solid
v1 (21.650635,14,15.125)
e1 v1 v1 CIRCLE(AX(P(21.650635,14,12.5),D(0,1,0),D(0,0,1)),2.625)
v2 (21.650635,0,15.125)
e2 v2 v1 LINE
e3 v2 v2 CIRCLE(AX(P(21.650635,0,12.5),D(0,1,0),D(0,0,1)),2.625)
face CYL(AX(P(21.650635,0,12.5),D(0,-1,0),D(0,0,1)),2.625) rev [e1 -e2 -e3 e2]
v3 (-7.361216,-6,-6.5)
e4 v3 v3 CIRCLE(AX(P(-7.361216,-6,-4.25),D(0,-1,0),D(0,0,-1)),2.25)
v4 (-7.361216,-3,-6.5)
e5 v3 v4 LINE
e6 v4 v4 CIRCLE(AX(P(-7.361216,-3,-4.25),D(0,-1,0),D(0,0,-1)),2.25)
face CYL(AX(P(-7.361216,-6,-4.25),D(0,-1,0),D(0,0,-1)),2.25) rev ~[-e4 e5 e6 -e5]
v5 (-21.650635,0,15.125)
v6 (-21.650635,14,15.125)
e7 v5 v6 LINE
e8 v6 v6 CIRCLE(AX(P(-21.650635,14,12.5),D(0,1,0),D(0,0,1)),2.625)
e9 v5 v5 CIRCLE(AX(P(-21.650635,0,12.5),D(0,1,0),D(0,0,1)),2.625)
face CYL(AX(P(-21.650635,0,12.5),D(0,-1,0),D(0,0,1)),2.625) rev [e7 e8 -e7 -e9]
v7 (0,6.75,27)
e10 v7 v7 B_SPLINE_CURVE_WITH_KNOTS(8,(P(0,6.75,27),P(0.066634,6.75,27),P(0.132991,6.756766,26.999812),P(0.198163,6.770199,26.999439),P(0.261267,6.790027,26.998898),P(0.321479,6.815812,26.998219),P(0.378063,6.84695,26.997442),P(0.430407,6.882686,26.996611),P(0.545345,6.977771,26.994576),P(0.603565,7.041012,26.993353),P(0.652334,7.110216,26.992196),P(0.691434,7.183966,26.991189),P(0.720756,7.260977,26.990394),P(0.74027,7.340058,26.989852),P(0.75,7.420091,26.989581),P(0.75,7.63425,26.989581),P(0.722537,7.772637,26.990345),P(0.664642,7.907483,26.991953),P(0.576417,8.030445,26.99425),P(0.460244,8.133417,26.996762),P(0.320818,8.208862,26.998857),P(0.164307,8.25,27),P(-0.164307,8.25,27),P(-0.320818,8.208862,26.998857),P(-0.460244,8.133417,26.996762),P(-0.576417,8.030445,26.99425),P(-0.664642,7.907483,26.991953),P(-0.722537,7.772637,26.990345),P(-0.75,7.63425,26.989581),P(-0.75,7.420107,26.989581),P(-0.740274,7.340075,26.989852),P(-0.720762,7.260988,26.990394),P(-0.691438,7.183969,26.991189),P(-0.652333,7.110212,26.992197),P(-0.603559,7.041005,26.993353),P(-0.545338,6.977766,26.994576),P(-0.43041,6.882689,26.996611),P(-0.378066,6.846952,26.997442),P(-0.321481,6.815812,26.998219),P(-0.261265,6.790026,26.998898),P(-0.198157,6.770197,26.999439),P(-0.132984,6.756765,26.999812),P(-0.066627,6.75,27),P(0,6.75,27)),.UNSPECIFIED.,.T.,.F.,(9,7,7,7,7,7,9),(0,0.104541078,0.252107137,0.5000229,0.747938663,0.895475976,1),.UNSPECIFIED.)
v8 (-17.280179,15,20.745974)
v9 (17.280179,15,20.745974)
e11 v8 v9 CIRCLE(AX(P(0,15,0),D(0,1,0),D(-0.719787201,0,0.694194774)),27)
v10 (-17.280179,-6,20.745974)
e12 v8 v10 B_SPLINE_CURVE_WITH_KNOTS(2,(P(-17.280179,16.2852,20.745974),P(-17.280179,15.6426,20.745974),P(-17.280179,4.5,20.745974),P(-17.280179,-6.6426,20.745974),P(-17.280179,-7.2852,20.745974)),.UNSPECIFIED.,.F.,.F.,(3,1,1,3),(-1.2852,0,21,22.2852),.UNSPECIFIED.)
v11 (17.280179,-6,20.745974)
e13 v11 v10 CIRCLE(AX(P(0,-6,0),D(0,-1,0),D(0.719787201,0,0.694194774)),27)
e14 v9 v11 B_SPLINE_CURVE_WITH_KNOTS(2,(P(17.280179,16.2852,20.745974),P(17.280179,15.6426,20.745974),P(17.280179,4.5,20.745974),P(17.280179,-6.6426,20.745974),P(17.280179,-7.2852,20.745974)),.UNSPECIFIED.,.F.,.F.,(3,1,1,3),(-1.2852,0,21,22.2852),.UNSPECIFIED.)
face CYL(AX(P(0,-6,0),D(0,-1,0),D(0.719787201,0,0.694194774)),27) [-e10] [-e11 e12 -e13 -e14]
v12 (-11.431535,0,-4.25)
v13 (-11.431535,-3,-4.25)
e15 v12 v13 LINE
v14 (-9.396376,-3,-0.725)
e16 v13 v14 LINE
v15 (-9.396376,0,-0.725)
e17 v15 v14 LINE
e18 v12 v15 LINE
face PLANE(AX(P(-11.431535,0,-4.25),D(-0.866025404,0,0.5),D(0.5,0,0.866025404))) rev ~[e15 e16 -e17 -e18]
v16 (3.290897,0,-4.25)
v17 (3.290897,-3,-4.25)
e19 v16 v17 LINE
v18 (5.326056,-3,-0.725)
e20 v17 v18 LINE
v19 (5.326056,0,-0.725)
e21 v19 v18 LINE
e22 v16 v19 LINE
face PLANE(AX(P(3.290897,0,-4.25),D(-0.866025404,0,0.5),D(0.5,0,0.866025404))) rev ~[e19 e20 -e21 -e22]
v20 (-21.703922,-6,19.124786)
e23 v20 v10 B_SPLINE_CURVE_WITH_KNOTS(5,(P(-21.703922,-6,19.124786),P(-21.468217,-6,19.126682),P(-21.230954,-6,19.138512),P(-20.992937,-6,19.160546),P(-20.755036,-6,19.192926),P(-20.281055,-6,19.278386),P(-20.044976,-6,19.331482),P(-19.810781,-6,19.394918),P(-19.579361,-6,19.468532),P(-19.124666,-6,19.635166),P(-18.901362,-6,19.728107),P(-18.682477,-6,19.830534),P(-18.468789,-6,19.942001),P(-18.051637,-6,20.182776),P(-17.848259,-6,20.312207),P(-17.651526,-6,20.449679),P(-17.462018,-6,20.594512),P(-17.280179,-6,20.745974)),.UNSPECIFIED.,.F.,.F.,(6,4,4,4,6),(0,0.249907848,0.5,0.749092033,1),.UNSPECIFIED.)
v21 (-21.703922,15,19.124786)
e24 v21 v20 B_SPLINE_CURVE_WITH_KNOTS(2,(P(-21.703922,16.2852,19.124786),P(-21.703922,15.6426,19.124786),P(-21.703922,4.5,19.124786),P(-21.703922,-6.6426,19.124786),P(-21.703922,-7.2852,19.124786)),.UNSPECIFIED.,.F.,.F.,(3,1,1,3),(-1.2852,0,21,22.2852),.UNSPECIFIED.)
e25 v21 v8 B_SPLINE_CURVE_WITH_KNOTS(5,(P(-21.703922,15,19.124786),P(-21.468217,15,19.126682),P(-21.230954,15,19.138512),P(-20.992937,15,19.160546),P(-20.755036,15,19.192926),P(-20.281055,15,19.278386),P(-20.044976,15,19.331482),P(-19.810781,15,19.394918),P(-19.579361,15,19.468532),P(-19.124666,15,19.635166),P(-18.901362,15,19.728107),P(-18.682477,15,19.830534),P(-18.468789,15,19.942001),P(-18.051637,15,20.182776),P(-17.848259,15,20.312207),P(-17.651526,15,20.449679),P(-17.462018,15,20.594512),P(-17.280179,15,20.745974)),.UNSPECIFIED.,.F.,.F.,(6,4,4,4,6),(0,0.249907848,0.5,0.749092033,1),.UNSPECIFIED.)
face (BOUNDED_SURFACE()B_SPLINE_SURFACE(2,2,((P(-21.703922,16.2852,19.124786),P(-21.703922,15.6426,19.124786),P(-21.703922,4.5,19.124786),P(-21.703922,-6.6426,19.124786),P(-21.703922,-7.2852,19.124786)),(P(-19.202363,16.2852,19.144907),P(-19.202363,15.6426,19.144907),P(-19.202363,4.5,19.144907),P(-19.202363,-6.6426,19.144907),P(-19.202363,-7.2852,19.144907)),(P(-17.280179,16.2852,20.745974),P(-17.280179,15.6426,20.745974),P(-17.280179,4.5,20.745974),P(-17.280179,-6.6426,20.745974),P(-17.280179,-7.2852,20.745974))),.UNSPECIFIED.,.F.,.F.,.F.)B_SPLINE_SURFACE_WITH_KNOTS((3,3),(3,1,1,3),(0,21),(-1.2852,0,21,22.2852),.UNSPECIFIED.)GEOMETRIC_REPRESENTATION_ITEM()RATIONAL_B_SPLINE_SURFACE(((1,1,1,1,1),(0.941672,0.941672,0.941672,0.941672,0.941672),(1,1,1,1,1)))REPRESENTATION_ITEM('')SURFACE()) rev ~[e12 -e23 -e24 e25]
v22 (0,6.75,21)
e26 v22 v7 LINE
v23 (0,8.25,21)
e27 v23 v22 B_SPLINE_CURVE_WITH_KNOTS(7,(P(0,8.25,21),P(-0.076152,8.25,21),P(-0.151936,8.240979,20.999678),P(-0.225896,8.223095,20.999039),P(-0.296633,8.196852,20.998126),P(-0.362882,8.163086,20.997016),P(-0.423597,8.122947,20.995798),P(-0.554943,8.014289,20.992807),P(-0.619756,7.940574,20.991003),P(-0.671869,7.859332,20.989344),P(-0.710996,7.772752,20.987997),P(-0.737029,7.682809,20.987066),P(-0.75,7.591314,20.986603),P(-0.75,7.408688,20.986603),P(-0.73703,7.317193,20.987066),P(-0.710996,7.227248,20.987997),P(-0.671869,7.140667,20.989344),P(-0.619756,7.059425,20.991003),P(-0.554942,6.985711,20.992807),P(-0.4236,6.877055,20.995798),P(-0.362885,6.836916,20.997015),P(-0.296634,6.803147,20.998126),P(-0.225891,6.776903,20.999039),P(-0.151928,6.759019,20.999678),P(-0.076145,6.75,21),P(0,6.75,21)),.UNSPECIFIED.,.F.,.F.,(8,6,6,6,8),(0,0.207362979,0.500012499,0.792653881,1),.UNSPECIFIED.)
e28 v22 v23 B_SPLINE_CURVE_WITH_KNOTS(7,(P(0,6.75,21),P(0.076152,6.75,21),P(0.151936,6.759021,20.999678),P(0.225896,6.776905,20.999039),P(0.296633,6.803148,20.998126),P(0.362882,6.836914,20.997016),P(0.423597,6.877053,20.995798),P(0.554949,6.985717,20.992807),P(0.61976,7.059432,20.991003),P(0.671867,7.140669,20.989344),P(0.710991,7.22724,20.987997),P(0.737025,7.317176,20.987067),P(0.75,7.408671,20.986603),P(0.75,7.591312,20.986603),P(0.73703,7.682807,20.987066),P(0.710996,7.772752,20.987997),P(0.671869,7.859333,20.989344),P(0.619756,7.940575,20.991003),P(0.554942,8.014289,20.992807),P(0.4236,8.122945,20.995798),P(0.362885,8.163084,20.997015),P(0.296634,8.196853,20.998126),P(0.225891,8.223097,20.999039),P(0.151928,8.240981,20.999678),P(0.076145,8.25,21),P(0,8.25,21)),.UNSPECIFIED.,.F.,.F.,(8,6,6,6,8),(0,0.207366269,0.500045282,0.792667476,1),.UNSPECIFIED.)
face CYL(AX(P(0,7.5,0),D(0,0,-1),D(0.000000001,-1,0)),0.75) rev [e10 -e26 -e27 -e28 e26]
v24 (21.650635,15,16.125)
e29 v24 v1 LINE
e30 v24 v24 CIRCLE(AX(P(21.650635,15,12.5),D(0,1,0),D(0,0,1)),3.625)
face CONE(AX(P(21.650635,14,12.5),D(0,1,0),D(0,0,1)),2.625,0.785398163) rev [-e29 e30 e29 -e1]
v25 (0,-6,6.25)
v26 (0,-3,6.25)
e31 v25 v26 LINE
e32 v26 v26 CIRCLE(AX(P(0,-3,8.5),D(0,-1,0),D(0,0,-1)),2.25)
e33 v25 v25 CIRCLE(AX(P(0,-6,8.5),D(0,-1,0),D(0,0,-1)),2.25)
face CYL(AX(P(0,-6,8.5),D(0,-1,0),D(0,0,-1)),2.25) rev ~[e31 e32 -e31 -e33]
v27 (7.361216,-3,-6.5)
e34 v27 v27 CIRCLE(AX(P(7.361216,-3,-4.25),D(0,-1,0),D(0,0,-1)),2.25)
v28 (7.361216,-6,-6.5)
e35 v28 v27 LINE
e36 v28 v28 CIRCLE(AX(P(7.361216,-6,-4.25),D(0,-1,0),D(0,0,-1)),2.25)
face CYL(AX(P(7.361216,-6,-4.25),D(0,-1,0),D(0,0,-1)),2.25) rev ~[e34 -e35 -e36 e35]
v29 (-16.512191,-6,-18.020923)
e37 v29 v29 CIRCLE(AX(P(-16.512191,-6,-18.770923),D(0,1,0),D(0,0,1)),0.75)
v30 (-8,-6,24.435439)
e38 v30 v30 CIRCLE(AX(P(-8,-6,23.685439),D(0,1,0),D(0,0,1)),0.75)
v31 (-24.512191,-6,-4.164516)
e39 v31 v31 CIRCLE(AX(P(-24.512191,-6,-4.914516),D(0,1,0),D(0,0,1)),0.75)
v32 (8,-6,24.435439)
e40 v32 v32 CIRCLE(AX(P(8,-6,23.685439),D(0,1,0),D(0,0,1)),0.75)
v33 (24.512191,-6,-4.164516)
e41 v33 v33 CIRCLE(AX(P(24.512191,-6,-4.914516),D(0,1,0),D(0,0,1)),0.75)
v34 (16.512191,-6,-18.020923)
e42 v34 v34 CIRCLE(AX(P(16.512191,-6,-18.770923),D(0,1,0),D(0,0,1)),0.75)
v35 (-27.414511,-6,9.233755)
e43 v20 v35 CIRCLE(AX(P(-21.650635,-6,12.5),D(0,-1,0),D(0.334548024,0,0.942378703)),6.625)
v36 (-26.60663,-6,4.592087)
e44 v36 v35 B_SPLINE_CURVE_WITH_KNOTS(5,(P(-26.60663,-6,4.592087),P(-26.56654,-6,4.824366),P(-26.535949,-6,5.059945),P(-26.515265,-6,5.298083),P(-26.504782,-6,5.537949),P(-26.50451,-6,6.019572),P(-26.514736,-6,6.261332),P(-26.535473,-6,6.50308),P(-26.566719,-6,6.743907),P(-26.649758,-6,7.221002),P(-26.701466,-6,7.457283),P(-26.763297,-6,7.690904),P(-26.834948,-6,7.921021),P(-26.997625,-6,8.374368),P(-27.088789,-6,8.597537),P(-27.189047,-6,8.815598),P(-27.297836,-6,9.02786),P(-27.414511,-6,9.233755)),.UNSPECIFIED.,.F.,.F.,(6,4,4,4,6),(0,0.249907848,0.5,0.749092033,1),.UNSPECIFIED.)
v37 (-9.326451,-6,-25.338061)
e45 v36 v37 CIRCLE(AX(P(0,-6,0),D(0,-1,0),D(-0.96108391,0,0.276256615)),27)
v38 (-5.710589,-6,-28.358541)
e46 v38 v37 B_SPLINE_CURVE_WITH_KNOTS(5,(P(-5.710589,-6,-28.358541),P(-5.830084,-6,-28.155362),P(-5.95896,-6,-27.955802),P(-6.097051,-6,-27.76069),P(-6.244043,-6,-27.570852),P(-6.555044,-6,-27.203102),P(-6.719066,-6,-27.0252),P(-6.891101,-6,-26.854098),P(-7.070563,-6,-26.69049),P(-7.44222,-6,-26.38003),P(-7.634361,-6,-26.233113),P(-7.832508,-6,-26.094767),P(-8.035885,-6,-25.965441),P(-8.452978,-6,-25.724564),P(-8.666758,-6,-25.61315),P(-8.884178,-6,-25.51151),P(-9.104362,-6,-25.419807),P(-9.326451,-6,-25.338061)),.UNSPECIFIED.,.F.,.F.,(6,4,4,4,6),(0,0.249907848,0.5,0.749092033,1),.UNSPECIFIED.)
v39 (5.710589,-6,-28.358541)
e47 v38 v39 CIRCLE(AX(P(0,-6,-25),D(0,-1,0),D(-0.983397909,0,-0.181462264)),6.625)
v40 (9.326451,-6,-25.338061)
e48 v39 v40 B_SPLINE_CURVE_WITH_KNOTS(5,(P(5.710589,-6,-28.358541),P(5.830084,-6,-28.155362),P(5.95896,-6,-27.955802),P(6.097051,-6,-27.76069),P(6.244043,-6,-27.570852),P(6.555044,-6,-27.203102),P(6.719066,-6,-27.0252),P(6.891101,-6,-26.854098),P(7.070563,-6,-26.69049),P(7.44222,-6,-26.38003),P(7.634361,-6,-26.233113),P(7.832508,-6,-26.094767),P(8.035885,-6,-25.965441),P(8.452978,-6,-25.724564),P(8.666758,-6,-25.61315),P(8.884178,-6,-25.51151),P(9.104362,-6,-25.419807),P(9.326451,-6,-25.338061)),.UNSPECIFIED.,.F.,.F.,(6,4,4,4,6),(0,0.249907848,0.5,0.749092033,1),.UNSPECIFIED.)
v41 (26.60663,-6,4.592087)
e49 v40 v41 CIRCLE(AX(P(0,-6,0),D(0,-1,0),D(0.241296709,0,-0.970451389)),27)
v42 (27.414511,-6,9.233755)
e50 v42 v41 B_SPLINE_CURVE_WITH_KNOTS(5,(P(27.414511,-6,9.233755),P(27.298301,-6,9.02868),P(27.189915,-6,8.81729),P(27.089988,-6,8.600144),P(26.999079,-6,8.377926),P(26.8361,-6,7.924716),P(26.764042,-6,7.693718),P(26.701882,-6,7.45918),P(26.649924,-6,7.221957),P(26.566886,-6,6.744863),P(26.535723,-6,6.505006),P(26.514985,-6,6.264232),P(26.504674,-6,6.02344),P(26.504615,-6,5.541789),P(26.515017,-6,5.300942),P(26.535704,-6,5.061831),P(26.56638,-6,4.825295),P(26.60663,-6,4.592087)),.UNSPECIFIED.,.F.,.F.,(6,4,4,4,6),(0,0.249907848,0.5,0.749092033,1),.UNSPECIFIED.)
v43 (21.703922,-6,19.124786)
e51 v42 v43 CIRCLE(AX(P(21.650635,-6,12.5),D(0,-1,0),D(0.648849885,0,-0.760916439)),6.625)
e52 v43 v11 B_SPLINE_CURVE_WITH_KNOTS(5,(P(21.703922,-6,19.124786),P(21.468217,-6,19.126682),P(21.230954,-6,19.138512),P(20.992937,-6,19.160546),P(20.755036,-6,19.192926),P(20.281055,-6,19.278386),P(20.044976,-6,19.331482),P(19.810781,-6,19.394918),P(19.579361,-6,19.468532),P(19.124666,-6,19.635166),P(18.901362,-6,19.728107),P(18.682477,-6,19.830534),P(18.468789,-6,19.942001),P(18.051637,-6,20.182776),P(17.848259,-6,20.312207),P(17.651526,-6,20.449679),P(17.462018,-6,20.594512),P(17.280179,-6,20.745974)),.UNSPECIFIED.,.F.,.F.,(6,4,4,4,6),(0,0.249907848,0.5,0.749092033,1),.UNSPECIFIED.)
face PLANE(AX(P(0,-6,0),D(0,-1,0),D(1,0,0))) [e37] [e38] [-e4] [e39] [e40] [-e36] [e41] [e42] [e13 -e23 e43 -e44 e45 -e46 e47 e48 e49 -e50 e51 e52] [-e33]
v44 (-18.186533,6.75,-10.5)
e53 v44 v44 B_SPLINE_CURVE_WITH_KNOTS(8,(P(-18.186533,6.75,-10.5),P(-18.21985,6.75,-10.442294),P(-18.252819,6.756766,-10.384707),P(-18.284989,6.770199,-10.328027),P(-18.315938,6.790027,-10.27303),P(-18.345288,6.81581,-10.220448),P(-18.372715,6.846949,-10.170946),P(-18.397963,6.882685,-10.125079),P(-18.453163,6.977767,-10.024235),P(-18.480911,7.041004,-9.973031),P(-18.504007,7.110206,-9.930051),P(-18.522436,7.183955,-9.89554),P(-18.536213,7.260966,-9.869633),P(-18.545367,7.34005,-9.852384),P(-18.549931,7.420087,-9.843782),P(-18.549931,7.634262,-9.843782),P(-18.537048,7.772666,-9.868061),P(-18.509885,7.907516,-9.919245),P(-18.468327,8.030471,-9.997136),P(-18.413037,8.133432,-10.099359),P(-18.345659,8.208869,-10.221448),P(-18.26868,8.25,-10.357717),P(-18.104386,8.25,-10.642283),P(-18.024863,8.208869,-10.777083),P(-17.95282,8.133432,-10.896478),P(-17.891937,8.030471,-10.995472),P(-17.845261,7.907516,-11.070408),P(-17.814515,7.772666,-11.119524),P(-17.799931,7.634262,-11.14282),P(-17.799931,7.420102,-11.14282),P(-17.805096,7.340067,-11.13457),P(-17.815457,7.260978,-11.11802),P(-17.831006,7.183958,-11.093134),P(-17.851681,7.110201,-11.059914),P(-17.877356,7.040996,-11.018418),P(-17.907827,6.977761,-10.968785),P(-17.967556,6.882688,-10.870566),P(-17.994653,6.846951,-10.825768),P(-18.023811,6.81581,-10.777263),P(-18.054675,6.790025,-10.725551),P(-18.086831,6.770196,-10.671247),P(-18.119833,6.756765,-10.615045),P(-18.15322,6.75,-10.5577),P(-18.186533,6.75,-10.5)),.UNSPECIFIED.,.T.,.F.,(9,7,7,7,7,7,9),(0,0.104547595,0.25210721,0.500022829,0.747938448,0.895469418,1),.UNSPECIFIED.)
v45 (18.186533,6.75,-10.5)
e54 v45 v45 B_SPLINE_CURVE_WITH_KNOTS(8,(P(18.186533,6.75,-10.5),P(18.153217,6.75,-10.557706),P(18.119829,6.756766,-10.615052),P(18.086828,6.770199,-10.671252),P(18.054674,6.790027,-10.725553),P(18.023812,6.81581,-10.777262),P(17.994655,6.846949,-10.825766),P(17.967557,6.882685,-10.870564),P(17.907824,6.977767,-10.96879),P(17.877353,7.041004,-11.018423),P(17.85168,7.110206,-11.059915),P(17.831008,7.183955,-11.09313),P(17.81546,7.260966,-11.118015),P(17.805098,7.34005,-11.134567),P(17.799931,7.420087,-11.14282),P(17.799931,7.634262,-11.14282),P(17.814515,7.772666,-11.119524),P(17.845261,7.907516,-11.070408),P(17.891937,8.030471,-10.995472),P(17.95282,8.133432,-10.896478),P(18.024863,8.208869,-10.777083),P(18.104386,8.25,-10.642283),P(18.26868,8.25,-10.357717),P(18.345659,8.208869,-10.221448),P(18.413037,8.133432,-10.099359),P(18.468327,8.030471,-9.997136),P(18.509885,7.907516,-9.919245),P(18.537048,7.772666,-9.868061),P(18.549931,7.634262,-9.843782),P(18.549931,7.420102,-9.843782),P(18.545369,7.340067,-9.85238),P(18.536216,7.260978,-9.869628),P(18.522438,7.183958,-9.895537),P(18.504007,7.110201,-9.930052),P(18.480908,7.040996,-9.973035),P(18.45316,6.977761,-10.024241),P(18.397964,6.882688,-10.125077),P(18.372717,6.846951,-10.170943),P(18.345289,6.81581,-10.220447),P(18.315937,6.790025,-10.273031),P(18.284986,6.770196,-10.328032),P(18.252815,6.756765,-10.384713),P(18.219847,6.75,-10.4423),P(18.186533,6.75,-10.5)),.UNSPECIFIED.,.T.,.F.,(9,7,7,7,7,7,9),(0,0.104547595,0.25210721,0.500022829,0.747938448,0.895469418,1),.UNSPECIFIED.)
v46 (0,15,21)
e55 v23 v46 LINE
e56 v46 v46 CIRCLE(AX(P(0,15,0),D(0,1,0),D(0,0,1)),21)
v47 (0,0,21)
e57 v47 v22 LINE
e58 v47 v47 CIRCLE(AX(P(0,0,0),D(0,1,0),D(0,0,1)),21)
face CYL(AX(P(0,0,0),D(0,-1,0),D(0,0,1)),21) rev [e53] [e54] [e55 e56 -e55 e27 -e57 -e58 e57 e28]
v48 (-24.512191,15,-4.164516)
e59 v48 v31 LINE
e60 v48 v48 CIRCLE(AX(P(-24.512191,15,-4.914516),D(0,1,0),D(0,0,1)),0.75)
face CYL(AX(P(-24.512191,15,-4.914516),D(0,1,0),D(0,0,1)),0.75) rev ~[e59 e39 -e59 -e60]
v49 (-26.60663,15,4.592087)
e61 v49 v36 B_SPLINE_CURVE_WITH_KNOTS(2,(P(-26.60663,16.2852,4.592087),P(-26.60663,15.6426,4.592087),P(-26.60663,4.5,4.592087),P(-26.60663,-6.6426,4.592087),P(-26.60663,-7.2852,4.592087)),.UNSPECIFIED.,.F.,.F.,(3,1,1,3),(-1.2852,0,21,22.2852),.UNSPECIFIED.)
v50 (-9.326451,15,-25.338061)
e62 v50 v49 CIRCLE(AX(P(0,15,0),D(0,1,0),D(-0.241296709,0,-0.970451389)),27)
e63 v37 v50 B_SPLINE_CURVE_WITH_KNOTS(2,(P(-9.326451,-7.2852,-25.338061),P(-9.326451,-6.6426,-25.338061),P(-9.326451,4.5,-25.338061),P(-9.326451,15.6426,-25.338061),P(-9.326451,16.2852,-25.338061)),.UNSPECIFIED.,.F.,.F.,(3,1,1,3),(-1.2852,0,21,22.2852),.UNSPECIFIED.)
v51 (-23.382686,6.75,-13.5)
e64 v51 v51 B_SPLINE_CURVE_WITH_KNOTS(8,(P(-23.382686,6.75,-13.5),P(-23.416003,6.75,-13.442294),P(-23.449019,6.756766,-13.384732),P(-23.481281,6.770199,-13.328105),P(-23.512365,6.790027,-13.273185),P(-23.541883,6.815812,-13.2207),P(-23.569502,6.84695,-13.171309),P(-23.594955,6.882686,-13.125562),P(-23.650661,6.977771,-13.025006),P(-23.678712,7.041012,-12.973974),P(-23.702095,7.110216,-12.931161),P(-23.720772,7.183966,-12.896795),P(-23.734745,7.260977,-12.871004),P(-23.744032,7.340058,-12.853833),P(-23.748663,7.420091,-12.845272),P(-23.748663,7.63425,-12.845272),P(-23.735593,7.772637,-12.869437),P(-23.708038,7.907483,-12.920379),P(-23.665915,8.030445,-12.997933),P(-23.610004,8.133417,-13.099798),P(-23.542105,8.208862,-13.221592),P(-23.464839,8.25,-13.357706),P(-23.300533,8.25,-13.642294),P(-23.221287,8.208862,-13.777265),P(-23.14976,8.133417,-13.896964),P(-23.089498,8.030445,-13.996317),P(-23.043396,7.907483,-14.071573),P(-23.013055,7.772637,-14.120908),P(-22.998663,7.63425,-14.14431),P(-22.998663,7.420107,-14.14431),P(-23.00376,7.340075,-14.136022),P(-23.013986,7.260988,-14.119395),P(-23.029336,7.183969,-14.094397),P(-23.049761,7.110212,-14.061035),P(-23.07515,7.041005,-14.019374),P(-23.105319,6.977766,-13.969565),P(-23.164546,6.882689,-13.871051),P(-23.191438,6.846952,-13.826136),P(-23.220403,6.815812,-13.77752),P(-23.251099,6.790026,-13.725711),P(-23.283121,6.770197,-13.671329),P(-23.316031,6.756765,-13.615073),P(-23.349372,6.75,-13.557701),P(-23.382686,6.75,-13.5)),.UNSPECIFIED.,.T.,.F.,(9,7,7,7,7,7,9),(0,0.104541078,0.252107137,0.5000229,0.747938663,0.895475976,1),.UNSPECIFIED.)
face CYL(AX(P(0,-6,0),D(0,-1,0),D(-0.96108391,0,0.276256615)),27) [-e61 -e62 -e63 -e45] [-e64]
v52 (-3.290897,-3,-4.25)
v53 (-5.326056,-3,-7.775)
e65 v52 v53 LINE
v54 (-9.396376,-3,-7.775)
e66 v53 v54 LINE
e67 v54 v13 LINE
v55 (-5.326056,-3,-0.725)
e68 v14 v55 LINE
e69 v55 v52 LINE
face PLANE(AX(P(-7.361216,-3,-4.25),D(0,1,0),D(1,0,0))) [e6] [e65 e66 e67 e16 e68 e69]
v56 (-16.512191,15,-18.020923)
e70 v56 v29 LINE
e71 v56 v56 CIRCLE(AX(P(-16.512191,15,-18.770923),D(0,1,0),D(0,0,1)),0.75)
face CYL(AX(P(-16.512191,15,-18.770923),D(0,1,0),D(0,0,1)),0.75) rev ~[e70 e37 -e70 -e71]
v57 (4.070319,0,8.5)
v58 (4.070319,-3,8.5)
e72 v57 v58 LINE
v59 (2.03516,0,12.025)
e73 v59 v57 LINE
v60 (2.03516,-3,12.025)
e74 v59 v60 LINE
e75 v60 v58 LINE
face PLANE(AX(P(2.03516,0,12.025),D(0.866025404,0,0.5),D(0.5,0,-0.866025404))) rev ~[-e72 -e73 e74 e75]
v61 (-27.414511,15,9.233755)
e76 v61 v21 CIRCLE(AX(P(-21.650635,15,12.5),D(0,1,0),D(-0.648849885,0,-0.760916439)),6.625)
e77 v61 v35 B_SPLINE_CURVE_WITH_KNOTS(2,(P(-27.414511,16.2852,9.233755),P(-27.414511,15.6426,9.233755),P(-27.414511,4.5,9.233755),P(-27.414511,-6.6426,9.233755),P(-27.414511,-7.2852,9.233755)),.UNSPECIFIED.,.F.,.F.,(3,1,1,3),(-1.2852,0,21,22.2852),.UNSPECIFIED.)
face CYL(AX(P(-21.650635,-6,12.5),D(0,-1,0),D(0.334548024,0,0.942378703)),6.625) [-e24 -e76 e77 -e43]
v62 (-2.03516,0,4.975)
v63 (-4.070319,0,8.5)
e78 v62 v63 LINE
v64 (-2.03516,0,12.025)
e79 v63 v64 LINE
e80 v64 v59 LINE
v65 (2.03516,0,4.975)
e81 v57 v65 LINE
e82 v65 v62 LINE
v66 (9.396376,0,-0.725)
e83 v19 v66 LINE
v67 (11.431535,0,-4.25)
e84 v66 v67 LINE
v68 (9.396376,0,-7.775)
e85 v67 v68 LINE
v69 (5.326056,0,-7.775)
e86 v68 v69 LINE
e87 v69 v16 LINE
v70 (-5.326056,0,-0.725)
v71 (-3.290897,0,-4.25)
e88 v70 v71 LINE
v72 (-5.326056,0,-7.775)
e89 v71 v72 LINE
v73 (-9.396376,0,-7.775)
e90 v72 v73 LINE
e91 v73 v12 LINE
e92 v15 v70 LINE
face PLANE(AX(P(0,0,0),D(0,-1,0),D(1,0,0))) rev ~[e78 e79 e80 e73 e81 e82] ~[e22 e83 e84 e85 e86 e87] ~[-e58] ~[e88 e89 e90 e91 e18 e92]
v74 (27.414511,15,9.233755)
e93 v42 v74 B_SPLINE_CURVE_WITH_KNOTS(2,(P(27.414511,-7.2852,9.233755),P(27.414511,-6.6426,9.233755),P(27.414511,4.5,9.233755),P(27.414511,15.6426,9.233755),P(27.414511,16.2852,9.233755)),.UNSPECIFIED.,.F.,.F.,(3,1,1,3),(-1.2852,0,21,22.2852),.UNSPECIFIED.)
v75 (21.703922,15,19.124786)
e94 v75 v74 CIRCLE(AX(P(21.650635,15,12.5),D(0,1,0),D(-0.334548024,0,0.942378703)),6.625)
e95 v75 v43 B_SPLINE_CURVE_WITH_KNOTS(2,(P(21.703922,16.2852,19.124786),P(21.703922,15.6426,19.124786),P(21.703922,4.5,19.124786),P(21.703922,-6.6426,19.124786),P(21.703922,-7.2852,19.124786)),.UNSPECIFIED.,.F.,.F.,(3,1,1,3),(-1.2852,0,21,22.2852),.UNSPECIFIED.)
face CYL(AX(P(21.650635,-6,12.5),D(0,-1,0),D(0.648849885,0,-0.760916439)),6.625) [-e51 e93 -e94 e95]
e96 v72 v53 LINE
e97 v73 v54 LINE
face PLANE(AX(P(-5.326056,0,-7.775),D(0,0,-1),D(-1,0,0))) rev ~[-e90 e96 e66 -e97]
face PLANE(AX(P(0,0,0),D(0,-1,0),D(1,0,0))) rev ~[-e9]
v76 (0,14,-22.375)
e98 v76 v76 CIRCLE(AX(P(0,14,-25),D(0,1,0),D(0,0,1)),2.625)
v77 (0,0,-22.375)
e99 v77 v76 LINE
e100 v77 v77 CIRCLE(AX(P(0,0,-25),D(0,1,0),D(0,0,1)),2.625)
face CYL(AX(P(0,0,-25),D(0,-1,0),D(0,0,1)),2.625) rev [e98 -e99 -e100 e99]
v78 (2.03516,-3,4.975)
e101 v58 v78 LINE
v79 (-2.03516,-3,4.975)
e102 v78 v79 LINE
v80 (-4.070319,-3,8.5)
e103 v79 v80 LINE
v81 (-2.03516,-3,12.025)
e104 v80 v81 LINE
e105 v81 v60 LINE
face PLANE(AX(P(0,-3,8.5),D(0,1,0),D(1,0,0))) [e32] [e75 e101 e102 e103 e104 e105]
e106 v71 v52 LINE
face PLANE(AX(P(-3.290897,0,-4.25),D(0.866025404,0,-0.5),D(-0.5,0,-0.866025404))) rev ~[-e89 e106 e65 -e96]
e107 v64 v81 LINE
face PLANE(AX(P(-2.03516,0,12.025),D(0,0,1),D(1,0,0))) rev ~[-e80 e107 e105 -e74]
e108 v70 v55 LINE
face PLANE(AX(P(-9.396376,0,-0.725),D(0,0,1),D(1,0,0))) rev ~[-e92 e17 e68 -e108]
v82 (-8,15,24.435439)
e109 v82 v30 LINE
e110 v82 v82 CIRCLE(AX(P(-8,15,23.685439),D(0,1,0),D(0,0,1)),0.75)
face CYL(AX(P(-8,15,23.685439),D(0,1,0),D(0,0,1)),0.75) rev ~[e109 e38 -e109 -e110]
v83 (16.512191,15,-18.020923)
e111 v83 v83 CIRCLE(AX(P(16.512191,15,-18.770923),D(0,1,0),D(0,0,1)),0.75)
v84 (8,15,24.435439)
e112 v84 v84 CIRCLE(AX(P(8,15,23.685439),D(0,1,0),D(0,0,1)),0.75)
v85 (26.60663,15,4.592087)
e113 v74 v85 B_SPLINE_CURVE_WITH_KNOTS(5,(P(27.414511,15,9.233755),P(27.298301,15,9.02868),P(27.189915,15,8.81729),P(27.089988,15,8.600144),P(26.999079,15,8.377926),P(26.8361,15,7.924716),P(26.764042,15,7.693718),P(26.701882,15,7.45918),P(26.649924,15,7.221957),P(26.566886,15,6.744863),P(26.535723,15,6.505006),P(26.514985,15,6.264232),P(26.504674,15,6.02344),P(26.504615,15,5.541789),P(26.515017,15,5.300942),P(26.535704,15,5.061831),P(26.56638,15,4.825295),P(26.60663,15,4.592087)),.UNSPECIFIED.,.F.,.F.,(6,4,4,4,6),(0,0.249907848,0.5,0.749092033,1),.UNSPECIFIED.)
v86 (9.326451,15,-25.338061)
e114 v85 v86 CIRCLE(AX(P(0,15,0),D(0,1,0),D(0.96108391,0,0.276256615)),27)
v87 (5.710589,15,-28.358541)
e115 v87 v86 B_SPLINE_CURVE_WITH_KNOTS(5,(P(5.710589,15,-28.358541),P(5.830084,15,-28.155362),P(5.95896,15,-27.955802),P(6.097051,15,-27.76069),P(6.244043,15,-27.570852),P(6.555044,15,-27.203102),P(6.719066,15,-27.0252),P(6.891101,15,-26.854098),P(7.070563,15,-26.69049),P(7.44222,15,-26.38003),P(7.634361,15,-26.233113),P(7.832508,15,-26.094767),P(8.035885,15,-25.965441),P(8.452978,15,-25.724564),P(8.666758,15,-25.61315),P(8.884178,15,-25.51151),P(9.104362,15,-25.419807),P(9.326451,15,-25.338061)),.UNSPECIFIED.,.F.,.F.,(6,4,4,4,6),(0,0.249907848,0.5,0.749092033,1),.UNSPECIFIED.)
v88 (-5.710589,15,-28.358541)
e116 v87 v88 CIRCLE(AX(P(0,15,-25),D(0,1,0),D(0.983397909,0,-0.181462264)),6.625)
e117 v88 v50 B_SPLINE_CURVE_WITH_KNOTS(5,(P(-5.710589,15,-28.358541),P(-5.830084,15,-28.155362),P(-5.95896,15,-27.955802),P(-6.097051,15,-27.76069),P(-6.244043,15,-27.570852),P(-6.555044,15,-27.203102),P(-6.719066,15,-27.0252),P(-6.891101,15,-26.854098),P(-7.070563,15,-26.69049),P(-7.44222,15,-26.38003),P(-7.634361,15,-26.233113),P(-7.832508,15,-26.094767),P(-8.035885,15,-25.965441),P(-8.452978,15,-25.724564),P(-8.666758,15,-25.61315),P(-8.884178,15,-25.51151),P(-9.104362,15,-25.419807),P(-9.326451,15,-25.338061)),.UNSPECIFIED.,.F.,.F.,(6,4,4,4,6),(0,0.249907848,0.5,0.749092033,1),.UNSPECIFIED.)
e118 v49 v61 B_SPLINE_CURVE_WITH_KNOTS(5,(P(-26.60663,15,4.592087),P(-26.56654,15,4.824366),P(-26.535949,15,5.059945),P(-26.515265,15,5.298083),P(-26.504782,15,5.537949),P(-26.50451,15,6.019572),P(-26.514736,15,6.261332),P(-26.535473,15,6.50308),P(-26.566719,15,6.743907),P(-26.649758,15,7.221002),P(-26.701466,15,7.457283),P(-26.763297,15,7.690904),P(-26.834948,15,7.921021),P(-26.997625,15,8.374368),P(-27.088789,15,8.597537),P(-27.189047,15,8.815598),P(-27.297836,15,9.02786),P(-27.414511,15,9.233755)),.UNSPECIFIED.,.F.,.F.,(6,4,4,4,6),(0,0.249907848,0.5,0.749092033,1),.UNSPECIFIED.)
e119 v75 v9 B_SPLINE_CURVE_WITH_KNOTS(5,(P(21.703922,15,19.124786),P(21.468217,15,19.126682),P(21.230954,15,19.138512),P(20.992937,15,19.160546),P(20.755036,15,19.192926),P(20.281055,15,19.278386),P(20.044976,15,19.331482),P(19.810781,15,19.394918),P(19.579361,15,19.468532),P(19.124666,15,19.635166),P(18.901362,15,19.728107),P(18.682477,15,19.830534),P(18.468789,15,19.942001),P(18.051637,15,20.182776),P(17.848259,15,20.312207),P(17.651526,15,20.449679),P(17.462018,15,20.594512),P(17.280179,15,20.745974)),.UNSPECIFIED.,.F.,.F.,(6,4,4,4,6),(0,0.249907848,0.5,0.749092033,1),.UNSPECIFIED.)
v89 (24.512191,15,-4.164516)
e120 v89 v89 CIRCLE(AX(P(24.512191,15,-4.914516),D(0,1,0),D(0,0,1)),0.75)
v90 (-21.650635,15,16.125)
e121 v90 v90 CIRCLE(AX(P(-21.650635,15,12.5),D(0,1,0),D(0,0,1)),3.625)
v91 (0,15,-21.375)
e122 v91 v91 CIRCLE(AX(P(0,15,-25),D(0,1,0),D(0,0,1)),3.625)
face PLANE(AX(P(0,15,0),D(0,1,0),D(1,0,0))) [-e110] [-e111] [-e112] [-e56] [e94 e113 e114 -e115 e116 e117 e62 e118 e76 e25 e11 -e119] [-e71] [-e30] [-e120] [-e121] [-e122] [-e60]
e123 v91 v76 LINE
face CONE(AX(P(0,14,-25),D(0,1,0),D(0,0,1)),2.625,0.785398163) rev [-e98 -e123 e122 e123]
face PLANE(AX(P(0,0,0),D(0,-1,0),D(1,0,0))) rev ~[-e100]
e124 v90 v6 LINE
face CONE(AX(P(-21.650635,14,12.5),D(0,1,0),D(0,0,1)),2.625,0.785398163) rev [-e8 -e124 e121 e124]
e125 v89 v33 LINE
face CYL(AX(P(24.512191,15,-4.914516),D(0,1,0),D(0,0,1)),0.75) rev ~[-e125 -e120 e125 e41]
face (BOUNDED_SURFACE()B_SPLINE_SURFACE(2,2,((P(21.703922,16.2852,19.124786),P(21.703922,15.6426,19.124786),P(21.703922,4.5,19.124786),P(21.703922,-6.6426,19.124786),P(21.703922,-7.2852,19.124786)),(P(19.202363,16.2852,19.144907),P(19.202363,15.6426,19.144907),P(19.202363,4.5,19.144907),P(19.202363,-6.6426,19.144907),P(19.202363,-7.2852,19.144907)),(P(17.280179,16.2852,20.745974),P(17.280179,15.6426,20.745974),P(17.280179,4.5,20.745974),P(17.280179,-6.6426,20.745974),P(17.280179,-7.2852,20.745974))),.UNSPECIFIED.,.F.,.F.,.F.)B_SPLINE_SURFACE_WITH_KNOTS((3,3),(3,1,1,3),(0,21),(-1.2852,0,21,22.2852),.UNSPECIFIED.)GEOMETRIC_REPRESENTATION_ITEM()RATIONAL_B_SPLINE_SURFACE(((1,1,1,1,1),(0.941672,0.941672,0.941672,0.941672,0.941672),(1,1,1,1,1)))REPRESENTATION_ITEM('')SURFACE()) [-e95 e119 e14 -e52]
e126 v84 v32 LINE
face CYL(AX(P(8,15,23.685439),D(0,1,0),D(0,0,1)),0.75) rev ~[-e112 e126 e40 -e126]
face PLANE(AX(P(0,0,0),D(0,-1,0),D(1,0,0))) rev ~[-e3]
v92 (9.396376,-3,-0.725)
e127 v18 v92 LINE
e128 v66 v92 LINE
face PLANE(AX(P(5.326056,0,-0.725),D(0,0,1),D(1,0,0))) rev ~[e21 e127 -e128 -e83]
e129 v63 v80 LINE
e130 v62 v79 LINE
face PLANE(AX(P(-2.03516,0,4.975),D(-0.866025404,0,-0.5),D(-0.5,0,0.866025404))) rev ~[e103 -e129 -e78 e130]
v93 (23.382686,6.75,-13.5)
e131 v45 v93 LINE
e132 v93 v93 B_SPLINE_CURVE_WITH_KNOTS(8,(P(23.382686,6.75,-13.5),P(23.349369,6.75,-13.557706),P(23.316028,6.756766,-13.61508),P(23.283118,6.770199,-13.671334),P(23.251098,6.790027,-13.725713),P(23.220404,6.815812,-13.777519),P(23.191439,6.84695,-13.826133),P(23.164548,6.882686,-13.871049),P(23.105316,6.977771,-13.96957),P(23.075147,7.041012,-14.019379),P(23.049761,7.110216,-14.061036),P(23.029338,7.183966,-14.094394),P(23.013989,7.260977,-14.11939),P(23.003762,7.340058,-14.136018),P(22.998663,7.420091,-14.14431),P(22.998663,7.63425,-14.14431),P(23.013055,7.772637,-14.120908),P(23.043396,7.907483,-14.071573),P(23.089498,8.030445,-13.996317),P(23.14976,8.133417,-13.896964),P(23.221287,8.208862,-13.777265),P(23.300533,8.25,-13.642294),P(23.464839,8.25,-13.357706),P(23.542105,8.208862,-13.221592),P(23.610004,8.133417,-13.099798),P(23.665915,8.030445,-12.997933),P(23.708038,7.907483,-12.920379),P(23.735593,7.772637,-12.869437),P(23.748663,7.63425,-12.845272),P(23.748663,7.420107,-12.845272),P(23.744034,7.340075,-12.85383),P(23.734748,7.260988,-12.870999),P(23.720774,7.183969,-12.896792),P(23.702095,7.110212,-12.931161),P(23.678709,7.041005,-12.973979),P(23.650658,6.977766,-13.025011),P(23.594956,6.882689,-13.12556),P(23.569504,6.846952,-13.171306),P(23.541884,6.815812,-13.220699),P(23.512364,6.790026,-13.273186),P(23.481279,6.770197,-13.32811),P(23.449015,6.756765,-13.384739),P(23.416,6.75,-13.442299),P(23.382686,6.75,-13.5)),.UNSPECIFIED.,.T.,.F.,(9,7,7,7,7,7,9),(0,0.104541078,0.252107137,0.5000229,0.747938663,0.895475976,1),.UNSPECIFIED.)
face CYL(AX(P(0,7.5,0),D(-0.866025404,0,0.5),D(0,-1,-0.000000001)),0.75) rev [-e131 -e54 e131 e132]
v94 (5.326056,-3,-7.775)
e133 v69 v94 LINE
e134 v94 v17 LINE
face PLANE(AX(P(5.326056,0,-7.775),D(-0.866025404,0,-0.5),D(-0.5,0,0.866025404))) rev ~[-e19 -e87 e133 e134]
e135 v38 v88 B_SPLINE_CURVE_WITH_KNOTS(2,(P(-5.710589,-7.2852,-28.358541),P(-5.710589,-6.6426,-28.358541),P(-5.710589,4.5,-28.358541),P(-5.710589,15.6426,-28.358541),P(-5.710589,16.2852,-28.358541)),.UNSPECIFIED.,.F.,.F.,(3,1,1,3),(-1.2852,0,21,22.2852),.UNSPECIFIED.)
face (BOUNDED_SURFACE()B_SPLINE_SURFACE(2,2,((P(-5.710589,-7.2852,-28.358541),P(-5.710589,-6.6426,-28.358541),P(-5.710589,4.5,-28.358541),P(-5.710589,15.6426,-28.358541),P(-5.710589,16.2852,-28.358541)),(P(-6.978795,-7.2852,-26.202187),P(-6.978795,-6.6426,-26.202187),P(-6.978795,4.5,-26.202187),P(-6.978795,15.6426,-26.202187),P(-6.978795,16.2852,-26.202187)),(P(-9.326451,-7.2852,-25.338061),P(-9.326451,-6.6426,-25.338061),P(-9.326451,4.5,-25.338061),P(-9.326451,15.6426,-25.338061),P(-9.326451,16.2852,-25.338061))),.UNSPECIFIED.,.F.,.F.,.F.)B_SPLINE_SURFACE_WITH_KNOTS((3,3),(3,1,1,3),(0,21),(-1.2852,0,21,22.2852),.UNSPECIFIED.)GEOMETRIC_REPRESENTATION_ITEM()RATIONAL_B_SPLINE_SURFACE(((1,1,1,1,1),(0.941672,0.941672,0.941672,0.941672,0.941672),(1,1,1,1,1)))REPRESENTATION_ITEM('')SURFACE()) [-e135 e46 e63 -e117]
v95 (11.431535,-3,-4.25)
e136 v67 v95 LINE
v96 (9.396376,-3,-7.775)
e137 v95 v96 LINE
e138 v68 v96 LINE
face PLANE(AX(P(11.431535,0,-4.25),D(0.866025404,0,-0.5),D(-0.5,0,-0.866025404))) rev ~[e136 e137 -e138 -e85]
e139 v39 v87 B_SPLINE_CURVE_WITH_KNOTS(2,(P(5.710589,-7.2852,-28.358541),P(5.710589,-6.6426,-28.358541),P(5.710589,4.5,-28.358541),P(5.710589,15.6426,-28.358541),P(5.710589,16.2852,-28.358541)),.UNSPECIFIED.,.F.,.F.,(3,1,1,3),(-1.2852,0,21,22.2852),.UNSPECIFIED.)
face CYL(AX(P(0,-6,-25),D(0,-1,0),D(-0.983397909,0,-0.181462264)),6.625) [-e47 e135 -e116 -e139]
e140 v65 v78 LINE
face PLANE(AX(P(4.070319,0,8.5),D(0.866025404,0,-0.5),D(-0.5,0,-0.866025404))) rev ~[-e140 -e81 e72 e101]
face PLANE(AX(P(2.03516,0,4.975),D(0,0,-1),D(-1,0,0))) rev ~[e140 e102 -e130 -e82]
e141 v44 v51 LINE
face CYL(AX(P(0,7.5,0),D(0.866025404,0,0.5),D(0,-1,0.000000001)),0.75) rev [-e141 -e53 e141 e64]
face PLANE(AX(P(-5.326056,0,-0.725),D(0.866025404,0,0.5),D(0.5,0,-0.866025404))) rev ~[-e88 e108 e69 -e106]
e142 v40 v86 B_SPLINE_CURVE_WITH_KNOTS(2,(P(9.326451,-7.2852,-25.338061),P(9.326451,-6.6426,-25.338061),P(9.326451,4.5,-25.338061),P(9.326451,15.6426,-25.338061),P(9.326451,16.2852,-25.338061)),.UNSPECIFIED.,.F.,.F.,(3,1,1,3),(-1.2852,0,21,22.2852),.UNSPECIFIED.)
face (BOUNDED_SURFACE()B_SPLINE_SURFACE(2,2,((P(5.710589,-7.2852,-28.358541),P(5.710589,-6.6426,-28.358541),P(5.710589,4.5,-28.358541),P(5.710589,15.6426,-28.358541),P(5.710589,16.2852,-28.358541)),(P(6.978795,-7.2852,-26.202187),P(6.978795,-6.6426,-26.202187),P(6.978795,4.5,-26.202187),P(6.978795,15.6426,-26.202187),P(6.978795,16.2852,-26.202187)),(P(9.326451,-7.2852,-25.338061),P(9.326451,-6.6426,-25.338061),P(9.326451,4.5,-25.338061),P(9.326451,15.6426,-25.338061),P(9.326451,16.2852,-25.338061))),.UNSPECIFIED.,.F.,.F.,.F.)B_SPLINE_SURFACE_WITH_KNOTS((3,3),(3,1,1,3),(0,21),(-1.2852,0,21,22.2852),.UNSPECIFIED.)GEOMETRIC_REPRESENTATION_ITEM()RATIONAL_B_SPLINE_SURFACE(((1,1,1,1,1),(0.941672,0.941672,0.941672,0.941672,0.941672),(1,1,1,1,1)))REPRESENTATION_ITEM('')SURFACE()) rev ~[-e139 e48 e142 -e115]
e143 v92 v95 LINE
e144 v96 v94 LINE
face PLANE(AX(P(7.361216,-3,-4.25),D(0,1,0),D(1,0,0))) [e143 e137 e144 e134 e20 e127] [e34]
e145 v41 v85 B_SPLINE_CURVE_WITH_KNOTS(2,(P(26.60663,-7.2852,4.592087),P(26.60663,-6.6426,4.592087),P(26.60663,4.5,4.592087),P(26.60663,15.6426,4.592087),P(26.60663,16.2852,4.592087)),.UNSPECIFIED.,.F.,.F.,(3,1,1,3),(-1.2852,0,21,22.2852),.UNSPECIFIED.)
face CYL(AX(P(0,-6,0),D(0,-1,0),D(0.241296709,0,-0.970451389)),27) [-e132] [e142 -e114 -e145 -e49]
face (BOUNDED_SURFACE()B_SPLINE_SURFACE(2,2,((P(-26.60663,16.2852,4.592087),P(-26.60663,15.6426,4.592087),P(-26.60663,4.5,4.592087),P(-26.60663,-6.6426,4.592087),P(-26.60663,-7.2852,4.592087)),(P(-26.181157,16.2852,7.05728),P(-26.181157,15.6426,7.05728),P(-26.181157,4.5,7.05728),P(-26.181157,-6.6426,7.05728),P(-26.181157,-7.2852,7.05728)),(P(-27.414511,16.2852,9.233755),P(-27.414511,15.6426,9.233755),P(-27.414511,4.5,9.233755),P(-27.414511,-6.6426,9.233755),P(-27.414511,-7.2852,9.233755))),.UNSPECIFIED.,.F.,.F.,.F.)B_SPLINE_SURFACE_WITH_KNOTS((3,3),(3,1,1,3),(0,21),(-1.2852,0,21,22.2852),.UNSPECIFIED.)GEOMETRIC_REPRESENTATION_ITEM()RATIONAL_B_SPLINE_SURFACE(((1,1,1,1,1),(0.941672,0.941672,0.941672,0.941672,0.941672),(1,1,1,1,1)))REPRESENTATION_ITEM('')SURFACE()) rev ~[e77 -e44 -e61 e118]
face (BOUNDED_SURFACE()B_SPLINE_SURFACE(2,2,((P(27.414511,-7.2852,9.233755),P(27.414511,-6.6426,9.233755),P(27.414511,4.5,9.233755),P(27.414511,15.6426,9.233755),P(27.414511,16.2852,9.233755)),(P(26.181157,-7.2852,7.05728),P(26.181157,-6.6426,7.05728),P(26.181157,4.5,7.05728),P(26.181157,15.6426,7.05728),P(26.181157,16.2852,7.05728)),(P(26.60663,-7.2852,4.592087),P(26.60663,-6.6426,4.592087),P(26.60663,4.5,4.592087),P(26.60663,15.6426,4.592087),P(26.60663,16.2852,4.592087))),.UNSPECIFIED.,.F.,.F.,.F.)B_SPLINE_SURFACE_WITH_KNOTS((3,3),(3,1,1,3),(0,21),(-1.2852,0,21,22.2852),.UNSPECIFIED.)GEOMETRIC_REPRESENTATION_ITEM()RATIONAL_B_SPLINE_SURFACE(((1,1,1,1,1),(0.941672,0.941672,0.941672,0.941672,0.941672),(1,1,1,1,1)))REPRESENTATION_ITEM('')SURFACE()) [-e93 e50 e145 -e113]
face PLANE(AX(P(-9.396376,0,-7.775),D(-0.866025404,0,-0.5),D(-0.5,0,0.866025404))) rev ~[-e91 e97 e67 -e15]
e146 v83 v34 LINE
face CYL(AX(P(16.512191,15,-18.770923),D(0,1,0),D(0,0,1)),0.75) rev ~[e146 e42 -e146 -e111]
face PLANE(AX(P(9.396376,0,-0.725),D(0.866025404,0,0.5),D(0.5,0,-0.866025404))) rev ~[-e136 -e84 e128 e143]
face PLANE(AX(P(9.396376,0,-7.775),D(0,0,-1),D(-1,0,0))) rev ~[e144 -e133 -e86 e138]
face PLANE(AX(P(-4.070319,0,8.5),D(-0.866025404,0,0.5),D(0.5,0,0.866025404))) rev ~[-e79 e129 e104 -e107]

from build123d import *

# Parameters (mm, degrees)
SKETCH_1_R               = 2.625
SKETCH_1_R_2             = 21
EXTRUDE_1_DEPTH          = 15
EXTRUDE_START            = 6
EXTRUDE_2_DEPTH          = 6
FILLET_1_R               = 7
CHAMFER_1_SIZE           = 1
SKETCH_4_R               = 2.25
CUT_EXTRUDE_1_DEPTH      = 48.335527685
CUT_EXTRUDE_2_DEPTH      = 3
SKETCH_6_R               = 0.75
CUT_EXTRUDE_3_DEPTH      = 48.335527685
SKETCH_7_R               = 0.75
CUT_EXTRUDE_4_DEPTH      = 45.996135167
PATTERN_CIRCULAR_1_COUNT = 3


with BuildPart() as part:
    # Эскиз1 → Бобышка-Вытянуть1 (new body)
    with BuildSketch(Plane(origin=(0, 0, 0), x_dir=(1, 0, 0), z_dir=(0, 1, 0))):
        with BuildLine():
            ThreePointArc((25.949265582, -7.458928593), (23.382685902, 13.5), (6.515011145, 26.2021875))
            ThreePointArc((6.515011145, 26.2021875), (0, 31.625), (-6.515011145, 26.2021875))
            ThreePointArc((-6.515011145, 26.2021875), (-23.382685902, 13.5), (-25.949265582, -7.458928593))
            ThreePointArc((-25.949265582, -7.458928593), (-27.388053395, -15.8125), (-19.434254437, -18.743258907))
            ThreePointArc((-19.434254437, -18.743258907), (0, -27), (19.434254437, -18.743258907))
            ThreePointArc((19.434254437, -18.743258907), (27.388053395, -15.8125), (25.949265582, -7.458928593))
        make_face()
        with Locations(Location((0, 25, 0), (0, 0, 270))):
            Circle(SKETCH_1_R, mode=Mode.SUBTRACT)
        with Locations(Location((0, 0, 0), (0, 0, 270))):
            Circle(SKETCH_1_R_2, mode=Mode.SUBTRACT)
        with Locations(Location((-21.650635095, -12.5, 0), (0, 0, 270))):
            Circle(SKETCH_1_R, mode=Mode.SUBTRACT)
        with Locations(Location((21.650635095, -12.5, 0), (0, 0, 270))):
            Circle(SKETCH_1_R, mode=Mode.SUBTRACT)
    extrude(amount=EXTRUDE_1_DEPTH)

    # Эскиз2 → Бобышка-Вытянуть2 (add)
    with BuildSketch(Plane.XZ.offset(EXTRUDE_START)):
        with BuildLine():
            ThreePointArc((25.949265582, 7.458928593), (27.388053395, 15.8125), (19.434254437, 18.743258907))
            ThreePointArc((19.434254437, 18.743258907), (0, 27), (-19.434254437, 18.743258907))
            ThreePointArc((-19.434254437, 18.743258907), (-27.388053395, 15.8125), (-25.949265582, 7.458928593))
            ThreePointArc((-25.949265582, 7.458928593), (-23.382685902, -13.5), (-6.515011145, -26.2021875))
            ThreePointArc((-6.515011145, -26.2021875), (0, -31.625), (6.515011145, -26.2021875))
            ThreePointArc((6.515011145, -26.2021875), (23.382685902, -13.5), (25.949265582, 7.458928593))
        make_face()
    extrude(amount=-EXTRUDE_2_DEPTH)

    # Скругление1
    fillet_1_edges = [part.edges().sort_by_distance(p)[0] for p in [
        (19.434254437, 4.5, 18.743258907),
        (-19.434254437, 4.5, 18.743258907),
        (-25.949265582, 4.5, 7.458928593),
        (-6.515011145, 4.5, -26.2021875),
        (6.515011145, 4.5, -26.2021875),
        (25.949265582, 4.5, 7.458928593),
    ]]
    fillet(fillet_1_edges, radius=FILLET_1_R)

    # Фаска1
    chamfer_1_edges = [part.edges().sort_by_distance(p)[0] for p in [
        (21.650635095, 15, 9.875),
        (0, 15, -27.625),
        (-21.650635095, 15, 9.875),
    ]]
    chamfer(chamfer_1_edges, length=CHAMFER_1_SIZE)

    # Эскиз4 → Вырез-Вытянуть1 (cut, through all)
    with BuildSketch(Plane.XZ.offset(6)):
        with Locations(Location((0, 8.5, 0), (0, 0, 270))):
            Circle(SKETCH_4_R)
        with Locations(Location((7.361215932, -4.25, 0), (0, 0, 270))):
            Circle(SKETCH_4_R)
        with Locations(Location((-7.361215932, -4.25, 0), (0, 0, 270))):
            Circle(SKETCH_4_R)
    extrude(amount=-CUT_EXTRUDE_1_DEPTH, mode=Mode.SUBTRACT)

    # Эскиз5 → Вырез-Вытянуть2 (cut)
    with BuildSketch(Plane(origin=(0, 0, 0), x_dir=(1, 0, 0), z_dir=(0, 1, 0))):
        Polygon((2.035159699, -12.025), (4.070319398, -8.5), (2.035159699, -4.975), (-2.035159699, -4.975), (-4.070319398, -8.5), (-2.035159699, -12.025), align=None)
        Polygon((5.326056233, 0.725), (9.396375631, 0.725), (11.43153533, 4.25), (9.396375631, 7.775), (5.326056233, 7.775), (3.290896534, 4.25), align=None)
        Polygon((-11.43153533, 4.25), (-9.396375631, 0.725), (-5.326056233, 0.725), (-3.290896534, 4.25), (-5.326056233, 7.775), (-9.396375631, 7.775), align=None)
    extrude(amount=-CUT_EXTRUDE_2_DEPTH, mode=Mode.SUBTRACT)

    # Эскиз6 → Вырез-Вытянуть3 (cut, through all)
    with BuildSketch(Plane(origin=(0, 15, 0), x_dir=(1, 0, 0), z_dir=(0, 1, 0))):
        with Locations(Location((-8, -23.685438565, 0), (0, 0, 270))):
            Circle(SKETCH_6_R)
        with Locations(Location((8, -23.685438565, 0), (0, 0, 270))):
            Circle(SKETCH_6_R)
        with Locations(Location((-16.512191497, 18.770922513, 0), (0, 0, 270))):
            Circle(SKETCH_6_R)
        with Locations(Location((-24.512191497, 4.914516052, 0), (0, 0, 270))):
            Circle(SKETCH_6_R)
        with Locations(Location((24.512191497, 4.914516052, 0), (0, 0, 270))):
            Circle(SKETCH_6_R)
        with Locations(Location((16.512191497, 18.770922513, 0), (0, 0, 270))):
            Circle(SKETCH_6_R)
    extrude(amount=-CUT_EXTRUDE_3_DEPTH, mode=Mode.SUBTRACT)

    # Эскиз7 → Вырез-Вытянуть4 (cut, through all)
    with BuildSketch(Plane.XY):
        with Locations(Location((0, 7.5, 0), (0, 0, 270.000000034))):
            Circle(SKETCH_7_R)
    cut_extrude_4 = extrude(amount=CUT_EXTRUDE_4_DEPTH, mode=Mode.SUBTRACT)

    # Круговой массив1: Вырез-Вытянуть4 ×3 about axis
    pattern_circular_1_axis = Axis((0, 15, 0), (0, -1, 0))
    for i in range(1, PATTERN_CIRCULAR_1_COUNT):
        add(cut_extrude_4.rotate(pattern_circular_1_axis, i * 360 / PATTERN_CIRCULAR_1_COUNT), mode=Mode.SUBTRACT)


solid = part.part
